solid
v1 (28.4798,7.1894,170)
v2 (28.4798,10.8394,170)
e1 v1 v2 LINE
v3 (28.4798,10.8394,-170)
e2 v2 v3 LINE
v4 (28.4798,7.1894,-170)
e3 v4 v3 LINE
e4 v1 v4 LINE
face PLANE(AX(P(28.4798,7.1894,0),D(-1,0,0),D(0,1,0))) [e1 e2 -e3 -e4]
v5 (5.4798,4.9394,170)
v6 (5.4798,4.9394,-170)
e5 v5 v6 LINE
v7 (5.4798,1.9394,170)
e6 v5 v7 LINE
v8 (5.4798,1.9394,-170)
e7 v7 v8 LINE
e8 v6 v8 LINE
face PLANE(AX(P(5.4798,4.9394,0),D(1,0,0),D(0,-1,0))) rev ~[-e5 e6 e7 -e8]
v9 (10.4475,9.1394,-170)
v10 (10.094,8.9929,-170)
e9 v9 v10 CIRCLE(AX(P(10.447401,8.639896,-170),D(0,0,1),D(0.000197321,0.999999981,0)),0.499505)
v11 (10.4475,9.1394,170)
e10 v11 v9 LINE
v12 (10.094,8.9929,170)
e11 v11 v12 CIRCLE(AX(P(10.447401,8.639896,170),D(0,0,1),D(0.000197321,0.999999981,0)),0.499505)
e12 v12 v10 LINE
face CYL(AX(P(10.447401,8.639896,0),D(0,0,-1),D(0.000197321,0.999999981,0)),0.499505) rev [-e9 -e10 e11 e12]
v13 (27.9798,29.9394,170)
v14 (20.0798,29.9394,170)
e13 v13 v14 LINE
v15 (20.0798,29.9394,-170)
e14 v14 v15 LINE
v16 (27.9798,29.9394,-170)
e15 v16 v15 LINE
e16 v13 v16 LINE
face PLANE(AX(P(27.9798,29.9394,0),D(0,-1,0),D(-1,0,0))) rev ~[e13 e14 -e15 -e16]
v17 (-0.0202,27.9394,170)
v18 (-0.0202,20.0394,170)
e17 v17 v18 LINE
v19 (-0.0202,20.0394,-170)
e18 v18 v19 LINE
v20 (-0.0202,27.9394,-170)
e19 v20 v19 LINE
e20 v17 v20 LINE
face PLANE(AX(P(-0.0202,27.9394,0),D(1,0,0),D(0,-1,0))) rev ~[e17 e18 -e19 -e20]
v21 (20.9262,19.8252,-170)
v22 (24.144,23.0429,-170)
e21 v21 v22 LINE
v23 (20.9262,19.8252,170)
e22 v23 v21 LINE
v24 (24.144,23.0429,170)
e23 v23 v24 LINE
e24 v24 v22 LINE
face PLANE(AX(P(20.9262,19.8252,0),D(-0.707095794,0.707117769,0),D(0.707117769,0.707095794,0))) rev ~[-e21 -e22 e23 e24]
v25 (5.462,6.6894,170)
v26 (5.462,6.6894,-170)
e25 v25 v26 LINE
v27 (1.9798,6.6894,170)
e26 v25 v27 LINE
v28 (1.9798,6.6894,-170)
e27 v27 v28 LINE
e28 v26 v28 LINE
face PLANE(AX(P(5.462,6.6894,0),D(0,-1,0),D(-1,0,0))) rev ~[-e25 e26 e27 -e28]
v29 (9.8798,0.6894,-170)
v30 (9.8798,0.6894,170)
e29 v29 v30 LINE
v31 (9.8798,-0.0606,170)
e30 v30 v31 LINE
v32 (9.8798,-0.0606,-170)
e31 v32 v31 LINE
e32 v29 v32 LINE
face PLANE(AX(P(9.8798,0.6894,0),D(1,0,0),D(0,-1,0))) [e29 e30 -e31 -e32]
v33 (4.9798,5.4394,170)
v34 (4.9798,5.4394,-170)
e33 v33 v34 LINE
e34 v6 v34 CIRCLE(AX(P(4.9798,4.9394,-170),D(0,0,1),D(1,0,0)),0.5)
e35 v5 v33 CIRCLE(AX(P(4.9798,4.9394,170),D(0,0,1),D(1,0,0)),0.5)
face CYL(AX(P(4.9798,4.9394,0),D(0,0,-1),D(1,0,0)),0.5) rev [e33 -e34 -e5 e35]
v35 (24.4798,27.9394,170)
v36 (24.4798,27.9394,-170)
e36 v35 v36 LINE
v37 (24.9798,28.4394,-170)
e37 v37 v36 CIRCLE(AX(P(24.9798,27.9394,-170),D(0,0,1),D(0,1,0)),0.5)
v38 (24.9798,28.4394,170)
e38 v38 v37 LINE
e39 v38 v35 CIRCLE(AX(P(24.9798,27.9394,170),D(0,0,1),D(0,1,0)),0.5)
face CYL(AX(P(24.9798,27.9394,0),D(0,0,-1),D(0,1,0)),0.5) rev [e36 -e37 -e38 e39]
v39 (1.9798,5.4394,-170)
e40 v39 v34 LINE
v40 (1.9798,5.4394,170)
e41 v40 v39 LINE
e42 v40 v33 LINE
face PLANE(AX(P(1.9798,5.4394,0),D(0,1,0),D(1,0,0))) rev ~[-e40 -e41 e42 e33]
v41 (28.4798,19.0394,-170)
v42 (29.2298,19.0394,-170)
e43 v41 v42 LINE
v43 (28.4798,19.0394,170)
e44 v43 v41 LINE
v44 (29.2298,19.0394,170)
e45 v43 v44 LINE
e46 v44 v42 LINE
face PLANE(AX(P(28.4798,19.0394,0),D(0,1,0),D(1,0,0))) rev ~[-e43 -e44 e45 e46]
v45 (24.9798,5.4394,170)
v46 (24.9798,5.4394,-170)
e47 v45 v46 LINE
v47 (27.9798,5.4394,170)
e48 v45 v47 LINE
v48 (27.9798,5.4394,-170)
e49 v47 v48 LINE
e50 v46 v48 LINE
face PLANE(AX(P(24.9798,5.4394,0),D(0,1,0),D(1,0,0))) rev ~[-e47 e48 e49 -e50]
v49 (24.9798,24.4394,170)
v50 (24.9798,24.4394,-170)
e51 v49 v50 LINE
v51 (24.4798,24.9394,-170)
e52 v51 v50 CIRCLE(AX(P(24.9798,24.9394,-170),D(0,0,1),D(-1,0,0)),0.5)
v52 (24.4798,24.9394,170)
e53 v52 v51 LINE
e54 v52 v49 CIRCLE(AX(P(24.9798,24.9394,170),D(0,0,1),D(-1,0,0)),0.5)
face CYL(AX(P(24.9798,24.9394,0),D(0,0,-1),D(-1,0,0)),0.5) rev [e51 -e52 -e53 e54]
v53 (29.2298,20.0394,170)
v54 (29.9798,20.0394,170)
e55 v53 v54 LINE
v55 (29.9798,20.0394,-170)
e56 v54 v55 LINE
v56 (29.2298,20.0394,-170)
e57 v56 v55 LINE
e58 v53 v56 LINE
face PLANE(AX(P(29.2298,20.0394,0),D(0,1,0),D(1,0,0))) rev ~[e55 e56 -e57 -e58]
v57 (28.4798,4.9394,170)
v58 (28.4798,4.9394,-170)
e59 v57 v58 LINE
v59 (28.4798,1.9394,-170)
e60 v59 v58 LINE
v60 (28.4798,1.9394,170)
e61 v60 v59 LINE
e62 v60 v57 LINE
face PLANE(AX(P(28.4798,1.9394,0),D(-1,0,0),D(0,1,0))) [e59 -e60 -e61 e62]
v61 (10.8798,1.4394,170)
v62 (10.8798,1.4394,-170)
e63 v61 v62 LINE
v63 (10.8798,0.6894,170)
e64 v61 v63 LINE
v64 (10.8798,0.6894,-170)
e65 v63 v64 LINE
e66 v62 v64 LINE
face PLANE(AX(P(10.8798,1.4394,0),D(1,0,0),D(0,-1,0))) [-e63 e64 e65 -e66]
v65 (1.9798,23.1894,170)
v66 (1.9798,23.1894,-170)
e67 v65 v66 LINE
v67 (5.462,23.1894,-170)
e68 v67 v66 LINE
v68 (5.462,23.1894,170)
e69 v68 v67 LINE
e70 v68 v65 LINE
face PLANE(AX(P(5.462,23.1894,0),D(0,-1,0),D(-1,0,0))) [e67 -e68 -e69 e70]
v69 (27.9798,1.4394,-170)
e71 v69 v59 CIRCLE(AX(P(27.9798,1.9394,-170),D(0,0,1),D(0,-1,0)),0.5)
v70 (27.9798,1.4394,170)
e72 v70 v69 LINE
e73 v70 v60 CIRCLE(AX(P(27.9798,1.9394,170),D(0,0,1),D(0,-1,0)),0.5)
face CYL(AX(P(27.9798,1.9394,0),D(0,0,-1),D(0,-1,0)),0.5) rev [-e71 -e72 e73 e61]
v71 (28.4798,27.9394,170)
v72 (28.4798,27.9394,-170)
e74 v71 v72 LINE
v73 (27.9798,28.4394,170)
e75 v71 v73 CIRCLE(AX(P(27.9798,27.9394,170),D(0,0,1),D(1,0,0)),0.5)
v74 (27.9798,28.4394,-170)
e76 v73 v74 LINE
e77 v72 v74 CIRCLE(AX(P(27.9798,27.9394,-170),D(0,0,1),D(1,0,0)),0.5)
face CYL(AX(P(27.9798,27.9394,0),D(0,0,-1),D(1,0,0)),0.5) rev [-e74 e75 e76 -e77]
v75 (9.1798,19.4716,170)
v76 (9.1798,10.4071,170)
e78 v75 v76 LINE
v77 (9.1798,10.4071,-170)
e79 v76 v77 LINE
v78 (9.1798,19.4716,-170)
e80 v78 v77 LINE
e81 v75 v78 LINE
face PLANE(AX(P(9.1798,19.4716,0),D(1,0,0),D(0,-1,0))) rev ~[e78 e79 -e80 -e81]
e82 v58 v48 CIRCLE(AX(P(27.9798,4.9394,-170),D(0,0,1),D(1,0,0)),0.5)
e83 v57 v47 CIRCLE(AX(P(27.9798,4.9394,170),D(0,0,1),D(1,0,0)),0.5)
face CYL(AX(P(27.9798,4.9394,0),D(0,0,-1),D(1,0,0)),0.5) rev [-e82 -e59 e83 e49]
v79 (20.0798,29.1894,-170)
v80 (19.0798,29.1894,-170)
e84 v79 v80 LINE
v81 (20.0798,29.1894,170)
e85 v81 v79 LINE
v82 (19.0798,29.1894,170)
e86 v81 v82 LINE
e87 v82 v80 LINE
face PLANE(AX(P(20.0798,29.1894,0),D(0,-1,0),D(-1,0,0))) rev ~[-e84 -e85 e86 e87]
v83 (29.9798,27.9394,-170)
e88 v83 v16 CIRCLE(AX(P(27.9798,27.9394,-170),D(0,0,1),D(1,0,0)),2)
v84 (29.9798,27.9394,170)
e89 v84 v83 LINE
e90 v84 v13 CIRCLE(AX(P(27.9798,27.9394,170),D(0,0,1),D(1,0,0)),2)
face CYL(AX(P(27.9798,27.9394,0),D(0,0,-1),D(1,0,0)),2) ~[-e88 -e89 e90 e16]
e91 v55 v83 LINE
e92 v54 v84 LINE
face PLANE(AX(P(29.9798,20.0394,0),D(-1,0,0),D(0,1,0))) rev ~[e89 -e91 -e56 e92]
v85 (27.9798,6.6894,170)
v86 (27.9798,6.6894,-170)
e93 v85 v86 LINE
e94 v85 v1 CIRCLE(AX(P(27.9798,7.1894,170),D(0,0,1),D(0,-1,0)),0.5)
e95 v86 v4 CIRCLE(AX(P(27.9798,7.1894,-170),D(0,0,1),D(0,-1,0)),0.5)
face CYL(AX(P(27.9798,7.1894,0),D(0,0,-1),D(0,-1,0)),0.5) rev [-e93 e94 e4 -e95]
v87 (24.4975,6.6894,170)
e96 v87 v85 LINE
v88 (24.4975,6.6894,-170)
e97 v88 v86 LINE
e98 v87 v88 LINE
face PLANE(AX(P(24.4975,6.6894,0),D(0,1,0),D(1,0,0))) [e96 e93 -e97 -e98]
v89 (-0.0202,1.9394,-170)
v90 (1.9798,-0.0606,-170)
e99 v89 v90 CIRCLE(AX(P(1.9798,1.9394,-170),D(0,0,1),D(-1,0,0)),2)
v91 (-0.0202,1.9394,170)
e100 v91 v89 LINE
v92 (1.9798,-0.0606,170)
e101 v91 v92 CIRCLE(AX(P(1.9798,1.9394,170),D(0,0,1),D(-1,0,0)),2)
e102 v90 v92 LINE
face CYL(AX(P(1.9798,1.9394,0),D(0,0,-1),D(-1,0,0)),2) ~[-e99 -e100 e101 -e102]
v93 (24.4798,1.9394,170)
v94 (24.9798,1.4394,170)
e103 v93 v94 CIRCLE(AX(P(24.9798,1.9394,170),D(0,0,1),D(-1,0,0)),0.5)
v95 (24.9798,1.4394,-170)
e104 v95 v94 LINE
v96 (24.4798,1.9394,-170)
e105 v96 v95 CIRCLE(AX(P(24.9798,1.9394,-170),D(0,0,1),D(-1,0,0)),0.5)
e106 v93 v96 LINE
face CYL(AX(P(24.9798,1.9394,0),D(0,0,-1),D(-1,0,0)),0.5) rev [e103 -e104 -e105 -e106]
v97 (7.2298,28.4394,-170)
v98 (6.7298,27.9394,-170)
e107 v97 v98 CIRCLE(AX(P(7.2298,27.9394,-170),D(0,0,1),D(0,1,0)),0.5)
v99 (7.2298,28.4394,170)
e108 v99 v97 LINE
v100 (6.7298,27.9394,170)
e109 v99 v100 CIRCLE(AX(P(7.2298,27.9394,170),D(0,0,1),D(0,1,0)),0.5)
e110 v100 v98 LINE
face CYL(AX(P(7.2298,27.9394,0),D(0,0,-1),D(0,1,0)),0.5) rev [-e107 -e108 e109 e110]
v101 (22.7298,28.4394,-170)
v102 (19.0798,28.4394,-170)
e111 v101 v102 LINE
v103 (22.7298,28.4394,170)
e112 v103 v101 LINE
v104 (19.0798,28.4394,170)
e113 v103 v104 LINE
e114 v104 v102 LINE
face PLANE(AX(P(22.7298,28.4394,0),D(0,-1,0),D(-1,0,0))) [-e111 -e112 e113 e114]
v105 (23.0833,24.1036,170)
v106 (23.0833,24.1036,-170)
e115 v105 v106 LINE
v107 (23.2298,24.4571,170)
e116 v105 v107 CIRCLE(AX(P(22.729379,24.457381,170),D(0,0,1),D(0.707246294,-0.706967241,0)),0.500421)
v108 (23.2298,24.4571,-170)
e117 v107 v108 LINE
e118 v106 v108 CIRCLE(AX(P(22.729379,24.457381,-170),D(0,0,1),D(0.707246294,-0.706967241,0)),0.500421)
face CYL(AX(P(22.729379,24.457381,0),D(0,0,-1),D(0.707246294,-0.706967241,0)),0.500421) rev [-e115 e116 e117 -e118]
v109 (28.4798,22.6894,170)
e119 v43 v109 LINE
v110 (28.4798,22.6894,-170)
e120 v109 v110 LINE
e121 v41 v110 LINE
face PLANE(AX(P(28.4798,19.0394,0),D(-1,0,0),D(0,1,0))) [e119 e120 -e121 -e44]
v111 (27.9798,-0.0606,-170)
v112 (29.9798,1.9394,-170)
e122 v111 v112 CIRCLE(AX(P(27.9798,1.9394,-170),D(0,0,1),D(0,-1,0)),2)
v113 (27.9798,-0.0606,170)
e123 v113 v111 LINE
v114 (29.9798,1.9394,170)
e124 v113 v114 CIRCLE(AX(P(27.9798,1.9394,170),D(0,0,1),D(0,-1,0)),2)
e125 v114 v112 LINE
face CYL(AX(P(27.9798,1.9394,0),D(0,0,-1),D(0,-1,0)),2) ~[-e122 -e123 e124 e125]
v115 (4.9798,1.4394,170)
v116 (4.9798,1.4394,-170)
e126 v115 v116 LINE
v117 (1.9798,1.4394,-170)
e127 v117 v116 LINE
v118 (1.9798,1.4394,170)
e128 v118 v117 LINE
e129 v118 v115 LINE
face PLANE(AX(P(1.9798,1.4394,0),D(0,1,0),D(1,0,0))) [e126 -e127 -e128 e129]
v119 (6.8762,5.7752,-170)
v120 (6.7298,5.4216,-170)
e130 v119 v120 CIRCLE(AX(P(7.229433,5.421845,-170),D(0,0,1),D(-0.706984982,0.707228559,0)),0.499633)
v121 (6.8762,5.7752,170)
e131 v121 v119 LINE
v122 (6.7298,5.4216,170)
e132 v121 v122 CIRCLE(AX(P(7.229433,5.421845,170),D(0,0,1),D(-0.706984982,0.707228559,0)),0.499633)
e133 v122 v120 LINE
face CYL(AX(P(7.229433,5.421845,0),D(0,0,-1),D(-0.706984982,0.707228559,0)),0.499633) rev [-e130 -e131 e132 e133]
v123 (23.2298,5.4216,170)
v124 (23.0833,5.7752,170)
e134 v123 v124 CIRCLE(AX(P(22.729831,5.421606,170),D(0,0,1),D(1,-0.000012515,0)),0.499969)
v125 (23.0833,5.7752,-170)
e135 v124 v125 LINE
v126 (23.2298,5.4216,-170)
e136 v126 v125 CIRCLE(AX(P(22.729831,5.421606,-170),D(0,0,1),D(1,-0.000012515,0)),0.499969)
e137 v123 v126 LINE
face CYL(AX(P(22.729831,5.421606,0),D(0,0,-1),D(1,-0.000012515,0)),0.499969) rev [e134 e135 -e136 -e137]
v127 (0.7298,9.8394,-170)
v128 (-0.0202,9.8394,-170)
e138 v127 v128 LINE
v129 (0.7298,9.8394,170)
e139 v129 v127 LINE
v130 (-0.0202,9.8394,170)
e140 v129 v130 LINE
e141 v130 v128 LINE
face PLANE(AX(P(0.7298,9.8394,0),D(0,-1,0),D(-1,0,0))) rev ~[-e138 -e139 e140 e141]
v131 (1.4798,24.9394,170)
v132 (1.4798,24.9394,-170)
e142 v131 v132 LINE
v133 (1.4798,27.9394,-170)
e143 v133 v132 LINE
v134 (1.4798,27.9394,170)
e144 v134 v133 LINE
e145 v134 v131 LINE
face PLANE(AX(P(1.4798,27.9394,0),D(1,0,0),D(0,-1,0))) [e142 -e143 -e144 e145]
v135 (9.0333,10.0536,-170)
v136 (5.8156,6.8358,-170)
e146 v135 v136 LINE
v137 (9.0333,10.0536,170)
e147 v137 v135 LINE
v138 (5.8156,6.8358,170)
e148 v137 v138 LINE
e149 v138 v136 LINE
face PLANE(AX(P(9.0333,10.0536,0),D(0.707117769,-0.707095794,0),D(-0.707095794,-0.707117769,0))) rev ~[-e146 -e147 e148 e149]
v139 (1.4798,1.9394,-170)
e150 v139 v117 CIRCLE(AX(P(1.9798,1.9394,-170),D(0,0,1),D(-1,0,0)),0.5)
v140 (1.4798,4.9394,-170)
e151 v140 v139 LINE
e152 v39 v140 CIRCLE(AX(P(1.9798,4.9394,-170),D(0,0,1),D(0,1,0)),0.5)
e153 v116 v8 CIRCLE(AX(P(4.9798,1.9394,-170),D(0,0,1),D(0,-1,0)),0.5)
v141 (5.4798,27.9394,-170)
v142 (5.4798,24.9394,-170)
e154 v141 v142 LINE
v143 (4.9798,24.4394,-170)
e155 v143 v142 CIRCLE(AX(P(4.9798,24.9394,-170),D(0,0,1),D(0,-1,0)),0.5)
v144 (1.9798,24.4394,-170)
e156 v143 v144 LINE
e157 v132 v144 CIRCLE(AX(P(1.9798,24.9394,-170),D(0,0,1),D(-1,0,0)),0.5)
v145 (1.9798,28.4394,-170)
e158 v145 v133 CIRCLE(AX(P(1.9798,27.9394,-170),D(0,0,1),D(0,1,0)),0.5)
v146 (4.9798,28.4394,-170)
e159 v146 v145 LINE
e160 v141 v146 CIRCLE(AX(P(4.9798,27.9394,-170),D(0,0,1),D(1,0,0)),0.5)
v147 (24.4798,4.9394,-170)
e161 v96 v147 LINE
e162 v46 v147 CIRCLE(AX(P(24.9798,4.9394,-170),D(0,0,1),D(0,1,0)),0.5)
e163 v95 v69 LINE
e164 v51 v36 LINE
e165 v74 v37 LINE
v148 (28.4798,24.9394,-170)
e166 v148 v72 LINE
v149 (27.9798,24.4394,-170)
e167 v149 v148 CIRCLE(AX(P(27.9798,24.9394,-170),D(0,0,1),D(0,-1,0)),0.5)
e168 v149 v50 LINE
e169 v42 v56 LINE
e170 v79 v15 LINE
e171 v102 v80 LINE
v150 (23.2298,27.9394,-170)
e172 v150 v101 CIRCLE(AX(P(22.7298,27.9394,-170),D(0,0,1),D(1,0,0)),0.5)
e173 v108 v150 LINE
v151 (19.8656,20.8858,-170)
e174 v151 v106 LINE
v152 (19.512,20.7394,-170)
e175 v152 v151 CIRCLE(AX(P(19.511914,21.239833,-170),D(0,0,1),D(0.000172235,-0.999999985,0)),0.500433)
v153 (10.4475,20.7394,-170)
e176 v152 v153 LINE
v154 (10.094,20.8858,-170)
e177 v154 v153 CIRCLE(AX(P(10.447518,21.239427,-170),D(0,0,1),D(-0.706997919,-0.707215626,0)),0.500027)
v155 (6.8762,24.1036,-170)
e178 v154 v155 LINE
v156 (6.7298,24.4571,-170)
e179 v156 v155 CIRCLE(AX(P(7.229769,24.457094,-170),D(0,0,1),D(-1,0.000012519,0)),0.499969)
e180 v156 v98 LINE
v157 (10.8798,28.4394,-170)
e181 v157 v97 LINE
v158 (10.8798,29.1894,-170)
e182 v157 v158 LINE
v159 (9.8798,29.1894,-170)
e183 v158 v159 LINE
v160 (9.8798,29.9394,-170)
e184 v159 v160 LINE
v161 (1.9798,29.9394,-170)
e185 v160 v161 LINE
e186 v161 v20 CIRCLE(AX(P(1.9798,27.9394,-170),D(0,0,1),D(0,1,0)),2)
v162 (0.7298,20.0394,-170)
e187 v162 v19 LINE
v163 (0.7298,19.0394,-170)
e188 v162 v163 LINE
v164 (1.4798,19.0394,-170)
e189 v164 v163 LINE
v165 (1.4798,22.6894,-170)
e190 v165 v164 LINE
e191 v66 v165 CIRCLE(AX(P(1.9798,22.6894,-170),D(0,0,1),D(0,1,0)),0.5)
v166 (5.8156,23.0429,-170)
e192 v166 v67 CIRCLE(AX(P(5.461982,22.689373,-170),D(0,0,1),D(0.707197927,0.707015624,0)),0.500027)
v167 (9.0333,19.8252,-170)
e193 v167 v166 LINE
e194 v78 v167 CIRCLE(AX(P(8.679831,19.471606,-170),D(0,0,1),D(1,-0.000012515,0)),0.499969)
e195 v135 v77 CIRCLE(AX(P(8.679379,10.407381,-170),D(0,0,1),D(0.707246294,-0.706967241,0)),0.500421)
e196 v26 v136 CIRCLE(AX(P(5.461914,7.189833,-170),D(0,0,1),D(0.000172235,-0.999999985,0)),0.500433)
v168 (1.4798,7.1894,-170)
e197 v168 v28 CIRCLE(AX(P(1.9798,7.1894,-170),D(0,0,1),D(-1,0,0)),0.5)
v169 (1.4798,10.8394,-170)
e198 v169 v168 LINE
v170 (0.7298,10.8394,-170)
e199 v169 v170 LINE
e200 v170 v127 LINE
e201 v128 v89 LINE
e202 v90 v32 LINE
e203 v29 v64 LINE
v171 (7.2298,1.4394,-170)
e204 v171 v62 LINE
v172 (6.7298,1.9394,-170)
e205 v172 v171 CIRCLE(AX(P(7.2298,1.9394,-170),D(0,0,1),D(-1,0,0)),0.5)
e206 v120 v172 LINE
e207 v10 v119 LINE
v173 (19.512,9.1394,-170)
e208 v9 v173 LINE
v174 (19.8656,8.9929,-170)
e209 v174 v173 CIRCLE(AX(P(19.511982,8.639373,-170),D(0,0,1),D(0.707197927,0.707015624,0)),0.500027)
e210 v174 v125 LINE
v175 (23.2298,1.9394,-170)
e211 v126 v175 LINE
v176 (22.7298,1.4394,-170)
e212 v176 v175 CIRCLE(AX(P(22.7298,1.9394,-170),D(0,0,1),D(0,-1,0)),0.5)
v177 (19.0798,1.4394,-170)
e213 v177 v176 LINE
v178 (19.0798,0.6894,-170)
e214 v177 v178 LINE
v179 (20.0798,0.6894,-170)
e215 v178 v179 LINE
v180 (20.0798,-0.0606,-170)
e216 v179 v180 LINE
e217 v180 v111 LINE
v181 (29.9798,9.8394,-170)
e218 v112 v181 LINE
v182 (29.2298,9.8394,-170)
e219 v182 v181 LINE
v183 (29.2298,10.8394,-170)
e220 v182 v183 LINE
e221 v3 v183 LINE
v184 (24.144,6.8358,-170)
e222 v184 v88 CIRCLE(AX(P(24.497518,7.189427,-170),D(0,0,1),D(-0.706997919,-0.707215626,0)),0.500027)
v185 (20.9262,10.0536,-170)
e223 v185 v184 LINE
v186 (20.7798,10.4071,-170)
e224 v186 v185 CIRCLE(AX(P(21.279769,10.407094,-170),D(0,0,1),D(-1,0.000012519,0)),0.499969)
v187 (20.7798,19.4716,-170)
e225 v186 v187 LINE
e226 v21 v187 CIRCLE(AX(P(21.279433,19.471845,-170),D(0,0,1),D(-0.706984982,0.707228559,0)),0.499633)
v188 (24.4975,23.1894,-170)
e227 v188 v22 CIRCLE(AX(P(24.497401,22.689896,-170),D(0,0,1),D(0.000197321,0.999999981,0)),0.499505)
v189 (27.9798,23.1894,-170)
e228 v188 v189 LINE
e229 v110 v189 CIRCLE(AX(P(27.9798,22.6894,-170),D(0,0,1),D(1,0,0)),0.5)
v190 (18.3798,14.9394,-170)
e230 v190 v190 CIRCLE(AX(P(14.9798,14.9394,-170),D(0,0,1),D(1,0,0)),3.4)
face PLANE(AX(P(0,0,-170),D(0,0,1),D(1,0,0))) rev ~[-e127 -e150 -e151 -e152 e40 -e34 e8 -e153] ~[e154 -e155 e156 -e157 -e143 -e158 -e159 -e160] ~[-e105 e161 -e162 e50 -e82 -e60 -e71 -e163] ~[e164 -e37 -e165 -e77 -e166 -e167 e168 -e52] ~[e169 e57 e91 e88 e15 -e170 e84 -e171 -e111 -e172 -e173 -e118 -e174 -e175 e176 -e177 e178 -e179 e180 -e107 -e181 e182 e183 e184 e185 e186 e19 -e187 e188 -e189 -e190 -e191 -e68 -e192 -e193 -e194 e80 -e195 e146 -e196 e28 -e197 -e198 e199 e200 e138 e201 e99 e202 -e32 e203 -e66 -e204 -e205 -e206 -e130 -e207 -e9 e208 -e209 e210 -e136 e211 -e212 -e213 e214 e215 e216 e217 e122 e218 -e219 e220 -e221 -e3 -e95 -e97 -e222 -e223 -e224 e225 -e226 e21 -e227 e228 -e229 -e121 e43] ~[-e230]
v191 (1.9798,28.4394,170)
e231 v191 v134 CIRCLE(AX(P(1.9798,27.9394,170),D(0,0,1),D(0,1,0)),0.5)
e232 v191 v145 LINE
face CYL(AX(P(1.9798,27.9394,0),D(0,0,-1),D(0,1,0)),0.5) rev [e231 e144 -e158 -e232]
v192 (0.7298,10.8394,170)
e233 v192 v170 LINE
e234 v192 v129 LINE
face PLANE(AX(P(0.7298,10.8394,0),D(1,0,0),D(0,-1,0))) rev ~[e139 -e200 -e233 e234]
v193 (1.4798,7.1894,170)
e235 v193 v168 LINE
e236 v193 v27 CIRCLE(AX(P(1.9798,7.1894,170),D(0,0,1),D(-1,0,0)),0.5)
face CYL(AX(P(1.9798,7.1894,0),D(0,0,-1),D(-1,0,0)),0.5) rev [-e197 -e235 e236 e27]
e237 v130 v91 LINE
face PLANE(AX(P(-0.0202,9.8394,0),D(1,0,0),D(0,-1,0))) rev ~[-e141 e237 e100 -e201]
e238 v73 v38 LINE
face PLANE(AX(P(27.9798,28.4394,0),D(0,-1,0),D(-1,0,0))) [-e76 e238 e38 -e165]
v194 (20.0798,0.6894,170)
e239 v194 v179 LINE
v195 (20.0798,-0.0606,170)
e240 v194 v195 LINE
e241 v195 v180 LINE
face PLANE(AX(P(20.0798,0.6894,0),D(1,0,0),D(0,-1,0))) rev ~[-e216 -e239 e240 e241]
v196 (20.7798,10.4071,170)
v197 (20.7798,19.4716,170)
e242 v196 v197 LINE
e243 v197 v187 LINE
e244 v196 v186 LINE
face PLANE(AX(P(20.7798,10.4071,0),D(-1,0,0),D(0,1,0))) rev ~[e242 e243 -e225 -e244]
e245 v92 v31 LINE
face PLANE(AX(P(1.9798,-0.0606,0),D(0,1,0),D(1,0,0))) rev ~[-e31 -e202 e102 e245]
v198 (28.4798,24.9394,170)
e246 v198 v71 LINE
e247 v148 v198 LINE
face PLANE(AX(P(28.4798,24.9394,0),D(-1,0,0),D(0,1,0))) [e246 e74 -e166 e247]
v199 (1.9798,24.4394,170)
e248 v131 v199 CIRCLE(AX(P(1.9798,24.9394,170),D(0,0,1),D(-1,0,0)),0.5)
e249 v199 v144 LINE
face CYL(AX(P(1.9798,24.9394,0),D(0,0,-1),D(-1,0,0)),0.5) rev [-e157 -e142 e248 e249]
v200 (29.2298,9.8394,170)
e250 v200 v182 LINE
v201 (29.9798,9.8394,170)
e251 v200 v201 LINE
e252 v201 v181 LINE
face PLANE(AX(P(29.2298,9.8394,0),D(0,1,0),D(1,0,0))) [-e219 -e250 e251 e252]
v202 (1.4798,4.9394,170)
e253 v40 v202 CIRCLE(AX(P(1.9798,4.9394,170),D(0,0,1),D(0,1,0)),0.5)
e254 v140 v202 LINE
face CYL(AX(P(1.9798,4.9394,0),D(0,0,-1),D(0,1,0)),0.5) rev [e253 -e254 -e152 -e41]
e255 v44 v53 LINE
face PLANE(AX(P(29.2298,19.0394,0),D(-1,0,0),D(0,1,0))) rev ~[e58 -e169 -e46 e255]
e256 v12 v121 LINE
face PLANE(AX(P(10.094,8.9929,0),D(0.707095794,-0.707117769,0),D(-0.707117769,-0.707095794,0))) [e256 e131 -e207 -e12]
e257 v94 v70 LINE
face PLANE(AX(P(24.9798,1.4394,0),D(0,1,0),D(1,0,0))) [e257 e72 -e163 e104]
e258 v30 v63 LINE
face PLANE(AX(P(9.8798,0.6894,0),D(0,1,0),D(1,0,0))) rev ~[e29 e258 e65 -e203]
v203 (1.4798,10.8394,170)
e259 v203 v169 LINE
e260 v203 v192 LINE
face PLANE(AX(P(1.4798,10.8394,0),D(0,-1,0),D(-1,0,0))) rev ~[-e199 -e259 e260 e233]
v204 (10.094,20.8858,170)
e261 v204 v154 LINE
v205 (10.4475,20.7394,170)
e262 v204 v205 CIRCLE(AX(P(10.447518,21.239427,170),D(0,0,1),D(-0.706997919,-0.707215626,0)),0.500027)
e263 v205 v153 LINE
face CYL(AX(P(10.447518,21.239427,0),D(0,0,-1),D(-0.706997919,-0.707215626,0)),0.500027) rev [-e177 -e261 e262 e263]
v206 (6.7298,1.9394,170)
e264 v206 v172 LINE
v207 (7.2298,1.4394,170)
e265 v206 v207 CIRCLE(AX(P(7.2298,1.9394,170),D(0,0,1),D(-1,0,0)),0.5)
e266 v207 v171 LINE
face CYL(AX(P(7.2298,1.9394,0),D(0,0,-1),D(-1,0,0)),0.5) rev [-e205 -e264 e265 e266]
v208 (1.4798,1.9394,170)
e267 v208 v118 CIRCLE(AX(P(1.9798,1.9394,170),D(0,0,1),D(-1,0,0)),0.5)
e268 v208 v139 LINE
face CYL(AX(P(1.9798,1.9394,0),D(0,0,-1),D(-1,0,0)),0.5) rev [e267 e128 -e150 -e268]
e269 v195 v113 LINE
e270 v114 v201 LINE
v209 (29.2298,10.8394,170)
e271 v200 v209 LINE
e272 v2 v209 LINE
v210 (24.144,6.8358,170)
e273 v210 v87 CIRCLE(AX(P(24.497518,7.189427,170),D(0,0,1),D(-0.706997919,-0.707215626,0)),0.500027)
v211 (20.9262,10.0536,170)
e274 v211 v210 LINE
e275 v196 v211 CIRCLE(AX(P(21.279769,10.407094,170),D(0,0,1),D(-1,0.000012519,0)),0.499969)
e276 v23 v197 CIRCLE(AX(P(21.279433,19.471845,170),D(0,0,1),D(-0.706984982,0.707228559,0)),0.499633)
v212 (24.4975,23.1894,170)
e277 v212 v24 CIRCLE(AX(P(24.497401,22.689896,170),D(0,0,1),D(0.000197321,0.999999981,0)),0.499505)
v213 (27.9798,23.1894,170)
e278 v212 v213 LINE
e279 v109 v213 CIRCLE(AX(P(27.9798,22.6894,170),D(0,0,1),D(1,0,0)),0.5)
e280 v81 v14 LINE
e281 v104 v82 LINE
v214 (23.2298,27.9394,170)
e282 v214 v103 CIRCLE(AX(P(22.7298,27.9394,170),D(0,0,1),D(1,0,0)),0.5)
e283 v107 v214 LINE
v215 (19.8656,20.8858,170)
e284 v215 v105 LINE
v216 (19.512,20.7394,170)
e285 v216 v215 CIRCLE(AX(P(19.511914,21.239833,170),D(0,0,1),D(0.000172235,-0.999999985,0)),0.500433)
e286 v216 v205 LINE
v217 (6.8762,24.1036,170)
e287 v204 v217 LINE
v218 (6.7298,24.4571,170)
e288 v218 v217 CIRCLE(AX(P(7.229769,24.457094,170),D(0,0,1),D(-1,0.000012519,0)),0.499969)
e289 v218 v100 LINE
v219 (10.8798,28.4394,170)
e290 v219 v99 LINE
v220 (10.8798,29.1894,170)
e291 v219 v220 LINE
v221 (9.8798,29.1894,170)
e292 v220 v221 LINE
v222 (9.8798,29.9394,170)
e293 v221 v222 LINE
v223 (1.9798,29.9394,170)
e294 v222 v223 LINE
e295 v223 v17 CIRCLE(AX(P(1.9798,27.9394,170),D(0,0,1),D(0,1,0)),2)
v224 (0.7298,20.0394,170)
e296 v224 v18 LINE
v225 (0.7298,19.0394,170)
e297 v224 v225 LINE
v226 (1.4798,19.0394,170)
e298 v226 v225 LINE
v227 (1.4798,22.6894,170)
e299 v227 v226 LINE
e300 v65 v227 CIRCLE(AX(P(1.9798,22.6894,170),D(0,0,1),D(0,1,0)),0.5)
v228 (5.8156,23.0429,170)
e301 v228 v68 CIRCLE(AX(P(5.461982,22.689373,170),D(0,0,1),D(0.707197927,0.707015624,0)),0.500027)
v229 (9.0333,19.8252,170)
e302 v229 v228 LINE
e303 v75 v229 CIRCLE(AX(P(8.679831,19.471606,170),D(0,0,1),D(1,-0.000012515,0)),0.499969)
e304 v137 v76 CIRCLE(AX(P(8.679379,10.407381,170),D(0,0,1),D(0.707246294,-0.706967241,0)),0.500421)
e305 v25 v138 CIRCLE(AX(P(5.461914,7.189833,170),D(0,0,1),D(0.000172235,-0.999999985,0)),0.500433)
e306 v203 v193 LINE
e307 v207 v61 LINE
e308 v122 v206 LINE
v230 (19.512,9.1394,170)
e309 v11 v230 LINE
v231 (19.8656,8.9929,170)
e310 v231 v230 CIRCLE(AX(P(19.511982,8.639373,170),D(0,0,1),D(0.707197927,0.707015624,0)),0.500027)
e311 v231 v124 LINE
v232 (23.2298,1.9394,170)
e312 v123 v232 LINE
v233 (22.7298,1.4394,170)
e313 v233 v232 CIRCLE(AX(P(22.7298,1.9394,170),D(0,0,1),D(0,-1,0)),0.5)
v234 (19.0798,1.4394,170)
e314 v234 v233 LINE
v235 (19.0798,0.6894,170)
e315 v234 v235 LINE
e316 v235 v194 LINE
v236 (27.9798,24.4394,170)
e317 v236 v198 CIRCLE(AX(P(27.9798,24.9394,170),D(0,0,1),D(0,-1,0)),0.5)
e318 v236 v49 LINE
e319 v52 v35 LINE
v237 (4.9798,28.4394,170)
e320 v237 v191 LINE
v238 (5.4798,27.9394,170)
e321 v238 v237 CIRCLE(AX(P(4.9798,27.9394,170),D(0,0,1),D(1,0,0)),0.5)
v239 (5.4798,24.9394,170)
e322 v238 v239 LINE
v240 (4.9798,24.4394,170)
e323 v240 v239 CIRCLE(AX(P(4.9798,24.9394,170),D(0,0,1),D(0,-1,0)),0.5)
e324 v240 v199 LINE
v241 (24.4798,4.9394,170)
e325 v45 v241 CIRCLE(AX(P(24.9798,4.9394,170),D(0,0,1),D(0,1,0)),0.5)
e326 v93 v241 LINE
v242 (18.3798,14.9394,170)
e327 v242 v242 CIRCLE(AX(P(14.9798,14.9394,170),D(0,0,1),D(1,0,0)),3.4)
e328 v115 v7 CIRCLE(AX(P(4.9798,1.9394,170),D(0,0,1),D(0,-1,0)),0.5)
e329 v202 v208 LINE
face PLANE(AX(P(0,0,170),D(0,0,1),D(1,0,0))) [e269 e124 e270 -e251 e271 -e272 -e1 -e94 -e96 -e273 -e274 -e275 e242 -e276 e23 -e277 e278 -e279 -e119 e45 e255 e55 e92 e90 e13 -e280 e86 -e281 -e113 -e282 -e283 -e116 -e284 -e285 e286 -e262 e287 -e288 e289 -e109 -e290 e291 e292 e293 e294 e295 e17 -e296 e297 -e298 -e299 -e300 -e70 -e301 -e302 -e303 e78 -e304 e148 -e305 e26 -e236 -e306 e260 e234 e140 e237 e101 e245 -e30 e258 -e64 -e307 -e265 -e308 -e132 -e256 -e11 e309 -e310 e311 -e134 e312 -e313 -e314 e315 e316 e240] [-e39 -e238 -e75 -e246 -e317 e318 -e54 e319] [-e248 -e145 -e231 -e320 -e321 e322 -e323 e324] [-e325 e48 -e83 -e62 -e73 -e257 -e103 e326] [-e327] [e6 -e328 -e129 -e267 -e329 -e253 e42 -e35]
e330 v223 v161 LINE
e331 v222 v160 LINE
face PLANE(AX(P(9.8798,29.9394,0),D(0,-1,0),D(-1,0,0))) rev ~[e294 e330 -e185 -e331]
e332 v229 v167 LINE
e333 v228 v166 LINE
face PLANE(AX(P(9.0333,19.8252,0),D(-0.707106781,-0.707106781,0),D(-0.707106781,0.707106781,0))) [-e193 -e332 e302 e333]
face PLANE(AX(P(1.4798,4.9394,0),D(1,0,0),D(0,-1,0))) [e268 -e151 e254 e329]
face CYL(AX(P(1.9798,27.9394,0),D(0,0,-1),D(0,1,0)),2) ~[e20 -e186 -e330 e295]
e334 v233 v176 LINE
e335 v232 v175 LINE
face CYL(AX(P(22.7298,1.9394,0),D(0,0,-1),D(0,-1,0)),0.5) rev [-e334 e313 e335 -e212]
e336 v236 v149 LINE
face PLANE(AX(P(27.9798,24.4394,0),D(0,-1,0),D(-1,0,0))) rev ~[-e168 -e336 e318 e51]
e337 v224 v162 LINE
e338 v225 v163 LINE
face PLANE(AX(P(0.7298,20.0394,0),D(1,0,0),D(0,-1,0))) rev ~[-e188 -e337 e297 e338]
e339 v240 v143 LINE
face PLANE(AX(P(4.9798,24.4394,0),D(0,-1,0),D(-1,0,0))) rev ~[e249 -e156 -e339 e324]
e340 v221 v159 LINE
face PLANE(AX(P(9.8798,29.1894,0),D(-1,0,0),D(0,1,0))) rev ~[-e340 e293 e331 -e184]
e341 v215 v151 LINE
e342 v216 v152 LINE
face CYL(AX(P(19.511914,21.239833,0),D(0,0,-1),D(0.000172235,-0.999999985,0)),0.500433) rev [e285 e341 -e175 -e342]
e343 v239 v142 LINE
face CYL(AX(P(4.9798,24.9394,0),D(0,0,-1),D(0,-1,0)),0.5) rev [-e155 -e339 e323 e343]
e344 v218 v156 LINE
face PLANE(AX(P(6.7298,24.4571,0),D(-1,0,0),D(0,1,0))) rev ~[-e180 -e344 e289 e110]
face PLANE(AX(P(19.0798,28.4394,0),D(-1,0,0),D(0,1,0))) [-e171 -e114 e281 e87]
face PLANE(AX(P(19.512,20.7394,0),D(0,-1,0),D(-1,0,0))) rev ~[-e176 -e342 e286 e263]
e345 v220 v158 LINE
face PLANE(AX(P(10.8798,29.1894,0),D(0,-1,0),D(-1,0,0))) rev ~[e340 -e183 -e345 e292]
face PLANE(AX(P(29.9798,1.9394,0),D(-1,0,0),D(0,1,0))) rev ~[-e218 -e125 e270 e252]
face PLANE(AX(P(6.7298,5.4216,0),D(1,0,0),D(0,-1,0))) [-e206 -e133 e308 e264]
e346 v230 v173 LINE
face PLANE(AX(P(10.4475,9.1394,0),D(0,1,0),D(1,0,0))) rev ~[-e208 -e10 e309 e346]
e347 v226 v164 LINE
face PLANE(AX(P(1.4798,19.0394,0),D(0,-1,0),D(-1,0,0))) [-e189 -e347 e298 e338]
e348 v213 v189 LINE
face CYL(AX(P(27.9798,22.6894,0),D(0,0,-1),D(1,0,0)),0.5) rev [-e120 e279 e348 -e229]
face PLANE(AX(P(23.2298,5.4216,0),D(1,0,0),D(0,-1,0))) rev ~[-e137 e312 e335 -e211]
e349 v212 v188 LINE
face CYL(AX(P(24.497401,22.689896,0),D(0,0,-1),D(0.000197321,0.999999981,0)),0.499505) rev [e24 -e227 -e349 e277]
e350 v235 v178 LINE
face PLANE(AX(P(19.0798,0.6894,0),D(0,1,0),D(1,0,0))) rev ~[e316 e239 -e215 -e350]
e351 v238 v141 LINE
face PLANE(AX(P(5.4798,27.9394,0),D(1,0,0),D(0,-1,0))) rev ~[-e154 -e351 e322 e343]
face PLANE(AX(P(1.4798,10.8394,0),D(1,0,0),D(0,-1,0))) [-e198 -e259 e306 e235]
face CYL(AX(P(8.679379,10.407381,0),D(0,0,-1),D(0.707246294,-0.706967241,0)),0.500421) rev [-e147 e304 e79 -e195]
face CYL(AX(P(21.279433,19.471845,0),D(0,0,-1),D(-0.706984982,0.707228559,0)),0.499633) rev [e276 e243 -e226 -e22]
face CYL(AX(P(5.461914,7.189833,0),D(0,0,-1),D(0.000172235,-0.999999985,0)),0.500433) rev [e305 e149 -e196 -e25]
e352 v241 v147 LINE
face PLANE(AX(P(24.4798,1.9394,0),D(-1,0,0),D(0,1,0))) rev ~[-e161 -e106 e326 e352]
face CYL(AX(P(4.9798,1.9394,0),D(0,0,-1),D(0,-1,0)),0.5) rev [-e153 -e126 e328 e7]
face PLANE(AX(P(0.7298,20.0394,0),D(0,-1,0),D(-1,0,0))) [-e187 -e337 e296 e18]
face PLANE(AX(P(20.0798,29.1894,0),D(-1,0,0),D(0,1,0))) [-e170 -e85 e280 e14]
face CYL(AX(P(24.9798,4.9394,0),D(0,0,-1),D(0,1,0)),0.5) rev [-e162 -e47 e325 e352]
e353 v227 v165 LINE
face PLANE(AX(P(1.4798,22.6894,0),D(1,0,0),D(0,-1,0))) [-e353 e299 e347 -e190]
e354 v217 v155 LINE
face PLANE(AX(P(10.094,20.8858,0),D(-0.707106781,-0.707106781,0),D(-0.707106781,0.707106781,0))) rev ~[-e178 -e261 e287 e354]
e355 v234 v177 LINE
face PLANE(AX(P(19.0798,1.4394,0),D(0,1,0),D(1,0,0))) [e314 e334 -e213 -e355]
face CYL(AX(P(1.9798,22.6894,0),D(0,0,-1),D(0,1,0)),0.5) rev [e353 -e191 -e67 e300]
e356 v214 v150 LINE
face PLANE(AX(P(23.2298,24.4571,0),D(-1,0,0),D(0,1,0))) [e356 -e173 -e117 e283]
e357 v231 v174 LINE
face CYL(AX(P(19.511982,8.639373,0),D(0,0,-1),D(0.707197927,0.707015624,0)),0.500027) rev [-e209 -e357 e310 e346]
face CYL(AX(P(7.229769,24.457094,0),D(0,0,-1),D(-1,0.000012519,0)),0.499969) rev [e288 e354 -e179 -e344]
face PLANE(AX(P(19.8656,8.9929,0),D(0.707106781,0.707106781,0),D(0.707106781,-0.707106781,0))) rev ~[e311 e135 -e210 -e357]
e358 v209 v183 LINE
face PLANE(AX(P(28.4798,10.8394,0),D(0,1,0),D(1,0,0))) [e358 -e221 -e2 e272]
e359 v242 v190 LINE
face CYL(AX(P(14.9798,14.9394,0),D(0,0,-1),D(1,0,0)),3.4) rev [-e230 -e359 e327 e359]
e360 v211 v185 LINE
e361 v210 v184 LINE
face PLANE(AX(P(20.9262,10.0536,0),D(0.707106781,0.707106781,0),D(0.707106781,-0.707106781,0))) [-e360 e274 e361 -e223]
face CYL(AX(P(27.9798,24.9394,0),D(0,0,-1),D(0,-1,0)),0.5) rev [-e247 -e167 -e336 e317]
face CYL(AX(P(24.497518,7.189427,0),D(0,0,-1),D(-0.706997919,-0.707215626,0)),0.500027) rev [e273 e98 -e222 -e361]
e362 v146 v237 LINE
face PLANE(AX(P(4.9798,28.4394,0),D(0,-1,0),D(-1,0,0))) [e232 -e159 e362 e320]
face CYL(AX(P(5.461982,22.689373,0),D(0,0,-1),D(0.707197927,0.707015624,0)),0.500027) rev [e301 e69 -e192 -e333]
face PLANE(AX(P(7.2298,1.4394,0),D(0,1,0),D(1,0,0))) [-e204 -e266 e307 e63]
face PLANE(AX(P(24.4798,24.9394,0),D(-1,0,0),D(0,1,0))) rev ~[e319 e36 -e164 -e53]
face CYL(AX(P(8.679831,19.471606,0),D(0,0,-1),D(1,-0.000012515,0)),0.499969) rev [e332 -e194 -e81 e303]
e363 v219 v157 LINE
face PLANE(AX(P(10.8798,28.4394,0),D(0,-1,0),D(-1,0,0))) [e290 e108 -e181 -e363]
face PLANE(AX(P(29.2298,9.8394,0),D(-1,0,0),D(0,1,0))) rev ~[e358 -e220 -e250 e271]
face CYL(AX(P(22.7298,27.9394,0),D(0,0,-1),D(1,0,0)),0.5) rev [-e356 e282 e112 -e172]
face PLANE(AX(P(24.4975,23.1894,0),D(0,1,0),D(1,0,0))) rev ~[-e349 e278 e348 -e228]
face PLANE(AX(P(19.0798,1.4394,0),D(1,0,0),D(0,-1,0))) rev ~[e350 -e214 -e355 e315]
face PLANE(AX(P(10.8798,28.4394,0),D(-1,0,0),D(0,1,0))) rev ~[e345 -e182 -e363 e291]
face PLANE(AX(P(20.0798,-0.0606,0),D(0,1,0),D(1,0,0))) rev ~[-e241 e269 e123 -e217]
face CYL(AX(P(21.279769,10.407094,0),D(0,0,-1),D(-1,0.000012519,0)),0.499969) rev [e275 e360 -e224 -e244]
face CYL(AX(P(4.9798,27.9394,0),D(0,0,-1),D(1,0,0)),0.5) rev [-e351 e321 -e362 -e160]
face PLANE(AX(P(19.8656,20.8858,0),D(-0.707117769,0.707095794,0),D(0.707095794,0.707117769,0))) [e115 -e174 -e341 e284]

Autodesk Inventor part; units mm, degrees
ref_plane "YZ Plane" through (0, 0, 0) normal (1, 0, 0) x (0, 1, 0)
ref_plane "XZ Plane" through (0, 0, 0) normal (0, 1, 0) x (-1, 0, 0)
ref_plane "XY Plane" through (0, 0, 0) normal (0, 0, 1) x (1, 0, 0)
sketch "Sketch1" plane through (0, 0, 0) normal (0, 0, 1) x (1, 0, 0)
  line L0 (1.9798, -0.0606) -> (9.8798, -0.0606)
  line L1 (20.0798, -0.0606) -> (27.9798, -0.0606)
  arc A0 (-0.0202, 1.9394) -> (1.9798, -0.0606) centre (1.9798, 1.9394) ccw
  line L2 (29.9798, 1.9394) -> (29.9798, 9.8394)
  arc A1 (27.9798, -0.0606) -> (29.9798, 1.9394) centre (27.9798, 1.9394) ccw
  line L3 (29.9798, 20.0394) -> (29.9798, 27.9394)
  arc A2 (29.9798, 27.9394) -> (27.9798, 29.9394) centre (27.9798, 27.9394) ccw
  line L4 (27.9798, 29.9394) -> (20.0798, 29.9394)
  line L5 (9.8798, 29.9394) -> (1.9798, 29.9394)
  line L6 (-0.0202, 27.9394) -> (-0.0202, 20.0394)
  line L7 (-0.0202, 9.8394) -> (-0.0202, 1.9394)
  arc A3 (1.9798, 29.9394) -> (-0.0202, 27.9394) centre (1.9798, 27.9394) ccw
  circle A4 centre (14.9798, 14.9394) radius 3.4
  line L8 (24.9798, 1.4394) -> (27.9798, 1.4394)
  arc A5 (27.9798, 1.4394) -> (28.4798, 1.9394) centre (27.9798, 1.9394) ccw
  line L9 (28.4798, 1.9394) -> (28.4798, 4.9394)
  arc A6 (28.4798, 4.9394) -> (27.9798, 5.4394) centre (27.9798, 4.9394) ccw
  line L10 (29.2298, 9.8394) -> (29.2298, 10.8394)
  line L11 (29.2298, 19.0394) -> (29.2298, 20.0394)
  line L12 (28.4798, 7.1894) -> (28.4798, 10.8394)
  arc A7 (27.9798, 6.6894) -> (28.4798, 7.1894) centre (27.9798, 7.1894) ccw
  line L13 (28.4798, 19.0394) -> (28.4798, 22.6894)
  arc A8 (28.4798, 22.6894) -> (27.9798, 23.1894) centre (27.9798, 22.6894) ccw
  line L14 (20.9262, 19.8252) -> (24.144, 23.0429)
  arc A9 (24.4975, 23.1894) -> (24.144, 23.0429) centre (24.4975, 22.6894) ccw
  line L15 (20.9262, 10.0536) -> (24.144, 6.8358)
  arc A10 (20.7798, 10.4071) -> (20.9262, 10.0536) centre (21.2798, 10.4071) ccw
  line L16 (24.4975, 6.6894) -> (27.9798, 6.6894)
  arc A11 (24.144, 6.8358) -> (24.4975, 6.6894) centre (24.4975, 7.1894) ccw
  line L17 (24.4975, 23.1894) -> (27.9798, 23.1894)
  line L18 (28.4798, 10.8394) -> (29.2298, 10.8394)
  line L19 (28.4798, 19.0394) -> (29.2298, 19.0394)
  line L20 (29.2298, 9.8394) -> (29.9798, 9.8394)
  line L21 (29.2298, 20.0394) -> (29.9798, 20.0394)
  line L22 (20.7798, 10.4071) -> (20.7798, 19.4716)
  arc A12 (20.9262, 19.8252) -> (20.7798, 19.4716) centre (21.2798, 19.4716) ccw
  line L23 (24.4798, 1.9394) -> (24.4798, 4.9394)
  arc A13 (24.4798, 1.9394) -> (24.9798, 1.4394) centre (24.9798, 1.9394) ccw
  line L24 (24.9798, 5.4394) -> (27.9798, 5.4394)
  arc A14 (24.9798, 5.4394) -> (24.4798, 4.9394) centre (24.9798, 4.9394) ccw
  line L25 (28.4798, 24.9394) -> (28.4798, 27.9394)
  arc A15 (28.4798, 27.9394) -> (27.9798, 28.4394) centre (27.9798, 27.9394) ccw
  line L26 (27.9798, 28.4394) -> (24.9798, 28.4394)
  arc A16 (24.9798, 28.4394) -> (24.4798, 27.9394) centre (24.9798, 27.9394) ccw
  line L27 (20.0798, 29.1894) -> (19.0798, 29.1894)
  line L28 (10.8798, 29.1894) -> (9.8798, 29.1894)
  line L29 (22.7298, 28.4394) -> (19.0798, 28.4394)
  arc A17 (23.2298, 27.9394) -> (22.7298, 28.4394) centre (22.7298, 27.9394) ccw
  line L30 (10.8798, 28.4394) -> (7.2298, 28.4394)
  arc A18 (7.2298, 28.4394) -> (6.7298, 27.9394) centre (7.2298, 27.9394) ccw
  line L31 (10.094, 20.8858) -> (6.8762, 24.1036)
  arc A19 (6.7298, 24.4571) -> (6.8762, 24.1036) centre (7.2298, 24.4571) ccw
  line L32 (19.8656, 20.8858) -> (23.0833, 24.1036)
  arc A20 (19.512, 20.7394) -> (19.8656, 20.8858) centre (19.512, 21.2394) ccw
  line L33 (23.2298, 24.4571) -> (23.2298, 27.9394)
  arc A21 (23.0833, 24.1036) -> (23.2298, 24.4571) centre (22.7298, 24.4571) ccw
  line L34 (6.7298, 24.4571) -> (6.7298, 27.9394)
  line L35 (19.0798, 28.4394) -> (19.0798, 29.1894)
  line L36 (10.8798, 28.4394) -> (10.8798, 29.1894)
  line L37 (20.0798, 29.1894) -> (20.0798, 29.9394)
  line L38 (9.8798, 29.1894) -> (9.8798, 29.9394)
  line L39 (19.512, 20.7394) -> (10.4475, 20.7394)
  arc A22 (10.094, 20.8858) -> (10.4475, 20.7394) centre (10.4475, 21.2394) ccw
  line L40 (27.9798, 24.4394) -> (24.9798, 24.4394)
  arc A23 (27.9798, 24.4394) -> (28.4798, 24.9394) centre (27.9798, 24.9394) ccw
  line L41 (24.4798, 24.9394) -> (24.4798, 27.9394)
  arc A24 (24.4798, 24.9394) -> (24.9798, 24.4394) centre (24.9798, 24.9394) ccw
  line L42 (4.9798, 28.4394) -> (1.9798, 28.4394)
  arc A25 (1.9798, 28.4394) -> (1.4798, 27.9394) centre (1.9798, 27.9394) ccw
  line L43 (1.4798, 27.9394) -> (1.4798, 24.9394)
  arc A26 (1.4798, 24.9394) -> (1.9798, 24.4394) centre (1.9798, 24.9394) ccw
  line L44 (0.7298, 20.0394) -> (0.7298, 19.0394)
  line L45 (0.7298, 10.8394) -> (0.7298, 9.8394)
  line L46 (1.4798, 22.6894) -> (1.4798, 19.0394)
  arc A27 (1.9798, 23.1894) -> (1.4798, 22.6894) centre (1.9798, 22.6894) ccw
  line L47 (1.4798, 10.8394) -> (1.4798, 7.1894)
  arc A28 (1.4798, 7.1894) -> (1.9798, 6.6894) centre (1.9798, 7.1894) ccw
  line L48 (9.0333, 10.0536) -> (5.8156, 6.8358)
  arc A29 (5.462, 6.6894) -> (5.8156, 6.8358) centre (5.462, 7.1894) ccw
  line L49 (9.0333, 19.8252) -> (5.8156, 23.0429)
  arc A30 (9.1798, 19.4716) -> (9.0333, 19.8252) centre (8.6798, 19.4716) ccw
  line L50 (5.462, 23.1894) -> (1.9798, 23.1894)
  arc A31 (5.8156, 23.0429) -> (5.462, 23.1894) centre (5.462, 22.6894) ccw
  line L51 (5.462, 6.6894) -> (1.9798, 6.6894)
  line L52 (1.4798, 19.0394) -> (0.7298, 19.0394)
  line L53 (1.4798, 10.8394) -> (0.7298, 10.8394)
  line L54 (0.7298, 20.0394) -> (-0.0202, 20.0394)
  line L55 (0.7298, 9.8394) -> (-0.0202, 9.8394)
  line L56 (9.1798, 19.4716) -> (9.1798, 10.4071)
  arc A32 (9.0333, 10.0536) -> (9.1798, 10.4071) centre (8.6798, 10.4071) ccw
  line L57 (5.4798, 27.9394) -> (5.4798, 24.9394)
  arc A33 (5.4798, 27.9394) -> (4.9798, 28.4394) centre (4.9798, 27.9394) ccw
  line L58 (4.9798, 24.4394) -> (1.9798, 24.4394)
  arc A34 (4.9798, 24.4394) -> (5.4798, 24.9394) centre (4.9798, 24.9394) ccw
  line L59 (1.4798, 4.9394) -> (1.4798, 1.9394)
  arc A35 (1.4798, 1.9394) -> (1.9798, 1.4394) centre (1.9798, 1.9394) ccw
  line L60 (1.9798, 1.4394) -> (4.9798, 1.4394)
  arc A36 (4.9798, 1.4394) -> (5.4798, 1.9394) centre (4.9798, 1.9394) ccw
  line L61 (9.8798, 0.6894) -> (10.8798, 0.6894)
  line L62 (19.0798, 0.6894) -> (20.0798, 0.6894)
  line L63 (7.2298, 1.4394) -> (10.8798, 1.4394)
  arc A37 (6.7298, 1.9394) -> (7.2298, 1.4394) centre (7.2298, 1.9394) ccw
  line L64 (19.0798, 1.4394) -> (22.7298, 1.4394)
  arc A38 (22.7298, 1.4394) -> (23.2298, 1.9394) centre (22.7298, 1.9394) ccw
  line L65 (19.8656, 8.9929) -> (23.0833, 5.7752)
  arc A39 (23.2298, 5.4216) -> (23.0833, 5.7752) centre (22.7298, 5.4216) ccw
  line L66 (10.094, 8.9929) -> (6.8762, 5.7752)
  arc A40 (10.4475, 9.1394) -> (10.094, 8.9929) centre (10.4475, 8.6394) ccw
  line L67 (6.7298, 5.4216) -> (6.7298, 1.9394)
  arc A41 (6.8762, 5.7752) -> (6.7298, 5.4216) centre (7.2298, 5.4216) ccw
  line L68 (23.2298, 5.4216) -> (23.2298, 1.9394)
  line L69 (10.8798, 1.4394) -> (10.8798, 0.6894)
  line L70 (19.0798, 1.4394) -> (19.0798, 0.6894)
  line L71 (9.8798, 0.6894) -> (9.8798, -0.0606)
  line L72 (20.0798, 0.6894) -> (20.0798, -0.0606)
  line L73 (10.4475, 9.1394) -> (19.512, 9.1394)
  arc A42 (19.8656, 8.9929) -> (19.512, 9.1394) centre (19.512, 8.6394) ccw
  line L74 (1.9798, 5.4394) -> (4.9798, 5.4394)
  arc A43 (1.9798, 5.4394) -> (1.4798, 4.9394) centre (1.9798, 4.9394) ccw
  line L75 (5.4798, 4.9394) -> (5.4798, 1.9394)
  arc A44 (5.4798, 4.9394) -> (4.9798, 5.4394) centre (4.9798, 4.9394) ccw
  point P0 (0, 0)
  dimension "d1" = 2
  dimension "d2" = 0.5
  dimension "d3" = 6.8
  dimension "d4" = 45
  dimension "d5" = 45
  dimension "d6" = 45
  dimension "d7" = 90
  dimension "d8" = 90
  dimension "d9" = 90
  dimension "d10" = 90
  dimension "d11" = 90
  dimension "d12" = 90
  dimension "d13" = 45
  dimension "d14" = 45
  dimension "d15" = 90
  dimension "d16" = 90
  dimension "d17" = 90
  dimension "d18" = 90
  dimension "d19" = 90
  dimension "d20" = 90
  dimension "d21" = 90
  dimension "d22" = 90
  dimension "d23" = 90
  dimension "d24" = 90
  dimension "d25" = 90
  dimension "d26" = 90
  dimension "d27" = 90
  dimension "d28" = 90
  dimension "d29" = 90
  dimension "d30" = 90
  dimension "d31" = 90
  dimension "d32" = 90
  dimension "d33" = 90
  dimension "d34" = 90
  dimension "d35" = 90
  dimension "d36" = 90
  dimension "d37" = 90
  dimension "d38" = 90
  dimension "d39" = 90
  dimension "d40" = 90
  dimension "d41" = 90
  dimension "d42" = 90
  dimension "d43" = 90
  dimension "d44" = 90
  dimension "d45" = 0.75
  dimension "d46" = 5.5
  dimension "d47" = 6.75
  dimension "d48" = 9.2
  dimension "d49" = 9.9
  dimension "d50" = 10.9
  dimension "d51" = 19.1
  dimension "d52" = 20.1
  dimension "d53" = 20.8
  dimension "d54" = 23.25
  dimension "d55" = 24.5
  dimension "d56" = 28.5
  dimension "d57" = 29.25
  dimension "d58" = 10.2
  dimension "d59" = 1
  dimension "d60" = 9.2
  dimension "d61" = 8.4
  dimension "d62" = 4.4
  dimension "d63" = 14.6
  dimension "d64" = 18.6
extrude "Extrusion1" add sketch "Sketch1" along normal mid plane 340
equation "\"d119\" = frame_width - 2 * extrusion_size"
equation "\"platform_width\" = 214"
equation "\"platform_depth\" = 214"
equation "\"bed_cl_y_offset\" = 173.25"
equation "\"frame_width\" = 400"
equation "\"extrusion_size\" = 30"
properties part number "3030 Extrusion - X" material "Aluminum 6061"
